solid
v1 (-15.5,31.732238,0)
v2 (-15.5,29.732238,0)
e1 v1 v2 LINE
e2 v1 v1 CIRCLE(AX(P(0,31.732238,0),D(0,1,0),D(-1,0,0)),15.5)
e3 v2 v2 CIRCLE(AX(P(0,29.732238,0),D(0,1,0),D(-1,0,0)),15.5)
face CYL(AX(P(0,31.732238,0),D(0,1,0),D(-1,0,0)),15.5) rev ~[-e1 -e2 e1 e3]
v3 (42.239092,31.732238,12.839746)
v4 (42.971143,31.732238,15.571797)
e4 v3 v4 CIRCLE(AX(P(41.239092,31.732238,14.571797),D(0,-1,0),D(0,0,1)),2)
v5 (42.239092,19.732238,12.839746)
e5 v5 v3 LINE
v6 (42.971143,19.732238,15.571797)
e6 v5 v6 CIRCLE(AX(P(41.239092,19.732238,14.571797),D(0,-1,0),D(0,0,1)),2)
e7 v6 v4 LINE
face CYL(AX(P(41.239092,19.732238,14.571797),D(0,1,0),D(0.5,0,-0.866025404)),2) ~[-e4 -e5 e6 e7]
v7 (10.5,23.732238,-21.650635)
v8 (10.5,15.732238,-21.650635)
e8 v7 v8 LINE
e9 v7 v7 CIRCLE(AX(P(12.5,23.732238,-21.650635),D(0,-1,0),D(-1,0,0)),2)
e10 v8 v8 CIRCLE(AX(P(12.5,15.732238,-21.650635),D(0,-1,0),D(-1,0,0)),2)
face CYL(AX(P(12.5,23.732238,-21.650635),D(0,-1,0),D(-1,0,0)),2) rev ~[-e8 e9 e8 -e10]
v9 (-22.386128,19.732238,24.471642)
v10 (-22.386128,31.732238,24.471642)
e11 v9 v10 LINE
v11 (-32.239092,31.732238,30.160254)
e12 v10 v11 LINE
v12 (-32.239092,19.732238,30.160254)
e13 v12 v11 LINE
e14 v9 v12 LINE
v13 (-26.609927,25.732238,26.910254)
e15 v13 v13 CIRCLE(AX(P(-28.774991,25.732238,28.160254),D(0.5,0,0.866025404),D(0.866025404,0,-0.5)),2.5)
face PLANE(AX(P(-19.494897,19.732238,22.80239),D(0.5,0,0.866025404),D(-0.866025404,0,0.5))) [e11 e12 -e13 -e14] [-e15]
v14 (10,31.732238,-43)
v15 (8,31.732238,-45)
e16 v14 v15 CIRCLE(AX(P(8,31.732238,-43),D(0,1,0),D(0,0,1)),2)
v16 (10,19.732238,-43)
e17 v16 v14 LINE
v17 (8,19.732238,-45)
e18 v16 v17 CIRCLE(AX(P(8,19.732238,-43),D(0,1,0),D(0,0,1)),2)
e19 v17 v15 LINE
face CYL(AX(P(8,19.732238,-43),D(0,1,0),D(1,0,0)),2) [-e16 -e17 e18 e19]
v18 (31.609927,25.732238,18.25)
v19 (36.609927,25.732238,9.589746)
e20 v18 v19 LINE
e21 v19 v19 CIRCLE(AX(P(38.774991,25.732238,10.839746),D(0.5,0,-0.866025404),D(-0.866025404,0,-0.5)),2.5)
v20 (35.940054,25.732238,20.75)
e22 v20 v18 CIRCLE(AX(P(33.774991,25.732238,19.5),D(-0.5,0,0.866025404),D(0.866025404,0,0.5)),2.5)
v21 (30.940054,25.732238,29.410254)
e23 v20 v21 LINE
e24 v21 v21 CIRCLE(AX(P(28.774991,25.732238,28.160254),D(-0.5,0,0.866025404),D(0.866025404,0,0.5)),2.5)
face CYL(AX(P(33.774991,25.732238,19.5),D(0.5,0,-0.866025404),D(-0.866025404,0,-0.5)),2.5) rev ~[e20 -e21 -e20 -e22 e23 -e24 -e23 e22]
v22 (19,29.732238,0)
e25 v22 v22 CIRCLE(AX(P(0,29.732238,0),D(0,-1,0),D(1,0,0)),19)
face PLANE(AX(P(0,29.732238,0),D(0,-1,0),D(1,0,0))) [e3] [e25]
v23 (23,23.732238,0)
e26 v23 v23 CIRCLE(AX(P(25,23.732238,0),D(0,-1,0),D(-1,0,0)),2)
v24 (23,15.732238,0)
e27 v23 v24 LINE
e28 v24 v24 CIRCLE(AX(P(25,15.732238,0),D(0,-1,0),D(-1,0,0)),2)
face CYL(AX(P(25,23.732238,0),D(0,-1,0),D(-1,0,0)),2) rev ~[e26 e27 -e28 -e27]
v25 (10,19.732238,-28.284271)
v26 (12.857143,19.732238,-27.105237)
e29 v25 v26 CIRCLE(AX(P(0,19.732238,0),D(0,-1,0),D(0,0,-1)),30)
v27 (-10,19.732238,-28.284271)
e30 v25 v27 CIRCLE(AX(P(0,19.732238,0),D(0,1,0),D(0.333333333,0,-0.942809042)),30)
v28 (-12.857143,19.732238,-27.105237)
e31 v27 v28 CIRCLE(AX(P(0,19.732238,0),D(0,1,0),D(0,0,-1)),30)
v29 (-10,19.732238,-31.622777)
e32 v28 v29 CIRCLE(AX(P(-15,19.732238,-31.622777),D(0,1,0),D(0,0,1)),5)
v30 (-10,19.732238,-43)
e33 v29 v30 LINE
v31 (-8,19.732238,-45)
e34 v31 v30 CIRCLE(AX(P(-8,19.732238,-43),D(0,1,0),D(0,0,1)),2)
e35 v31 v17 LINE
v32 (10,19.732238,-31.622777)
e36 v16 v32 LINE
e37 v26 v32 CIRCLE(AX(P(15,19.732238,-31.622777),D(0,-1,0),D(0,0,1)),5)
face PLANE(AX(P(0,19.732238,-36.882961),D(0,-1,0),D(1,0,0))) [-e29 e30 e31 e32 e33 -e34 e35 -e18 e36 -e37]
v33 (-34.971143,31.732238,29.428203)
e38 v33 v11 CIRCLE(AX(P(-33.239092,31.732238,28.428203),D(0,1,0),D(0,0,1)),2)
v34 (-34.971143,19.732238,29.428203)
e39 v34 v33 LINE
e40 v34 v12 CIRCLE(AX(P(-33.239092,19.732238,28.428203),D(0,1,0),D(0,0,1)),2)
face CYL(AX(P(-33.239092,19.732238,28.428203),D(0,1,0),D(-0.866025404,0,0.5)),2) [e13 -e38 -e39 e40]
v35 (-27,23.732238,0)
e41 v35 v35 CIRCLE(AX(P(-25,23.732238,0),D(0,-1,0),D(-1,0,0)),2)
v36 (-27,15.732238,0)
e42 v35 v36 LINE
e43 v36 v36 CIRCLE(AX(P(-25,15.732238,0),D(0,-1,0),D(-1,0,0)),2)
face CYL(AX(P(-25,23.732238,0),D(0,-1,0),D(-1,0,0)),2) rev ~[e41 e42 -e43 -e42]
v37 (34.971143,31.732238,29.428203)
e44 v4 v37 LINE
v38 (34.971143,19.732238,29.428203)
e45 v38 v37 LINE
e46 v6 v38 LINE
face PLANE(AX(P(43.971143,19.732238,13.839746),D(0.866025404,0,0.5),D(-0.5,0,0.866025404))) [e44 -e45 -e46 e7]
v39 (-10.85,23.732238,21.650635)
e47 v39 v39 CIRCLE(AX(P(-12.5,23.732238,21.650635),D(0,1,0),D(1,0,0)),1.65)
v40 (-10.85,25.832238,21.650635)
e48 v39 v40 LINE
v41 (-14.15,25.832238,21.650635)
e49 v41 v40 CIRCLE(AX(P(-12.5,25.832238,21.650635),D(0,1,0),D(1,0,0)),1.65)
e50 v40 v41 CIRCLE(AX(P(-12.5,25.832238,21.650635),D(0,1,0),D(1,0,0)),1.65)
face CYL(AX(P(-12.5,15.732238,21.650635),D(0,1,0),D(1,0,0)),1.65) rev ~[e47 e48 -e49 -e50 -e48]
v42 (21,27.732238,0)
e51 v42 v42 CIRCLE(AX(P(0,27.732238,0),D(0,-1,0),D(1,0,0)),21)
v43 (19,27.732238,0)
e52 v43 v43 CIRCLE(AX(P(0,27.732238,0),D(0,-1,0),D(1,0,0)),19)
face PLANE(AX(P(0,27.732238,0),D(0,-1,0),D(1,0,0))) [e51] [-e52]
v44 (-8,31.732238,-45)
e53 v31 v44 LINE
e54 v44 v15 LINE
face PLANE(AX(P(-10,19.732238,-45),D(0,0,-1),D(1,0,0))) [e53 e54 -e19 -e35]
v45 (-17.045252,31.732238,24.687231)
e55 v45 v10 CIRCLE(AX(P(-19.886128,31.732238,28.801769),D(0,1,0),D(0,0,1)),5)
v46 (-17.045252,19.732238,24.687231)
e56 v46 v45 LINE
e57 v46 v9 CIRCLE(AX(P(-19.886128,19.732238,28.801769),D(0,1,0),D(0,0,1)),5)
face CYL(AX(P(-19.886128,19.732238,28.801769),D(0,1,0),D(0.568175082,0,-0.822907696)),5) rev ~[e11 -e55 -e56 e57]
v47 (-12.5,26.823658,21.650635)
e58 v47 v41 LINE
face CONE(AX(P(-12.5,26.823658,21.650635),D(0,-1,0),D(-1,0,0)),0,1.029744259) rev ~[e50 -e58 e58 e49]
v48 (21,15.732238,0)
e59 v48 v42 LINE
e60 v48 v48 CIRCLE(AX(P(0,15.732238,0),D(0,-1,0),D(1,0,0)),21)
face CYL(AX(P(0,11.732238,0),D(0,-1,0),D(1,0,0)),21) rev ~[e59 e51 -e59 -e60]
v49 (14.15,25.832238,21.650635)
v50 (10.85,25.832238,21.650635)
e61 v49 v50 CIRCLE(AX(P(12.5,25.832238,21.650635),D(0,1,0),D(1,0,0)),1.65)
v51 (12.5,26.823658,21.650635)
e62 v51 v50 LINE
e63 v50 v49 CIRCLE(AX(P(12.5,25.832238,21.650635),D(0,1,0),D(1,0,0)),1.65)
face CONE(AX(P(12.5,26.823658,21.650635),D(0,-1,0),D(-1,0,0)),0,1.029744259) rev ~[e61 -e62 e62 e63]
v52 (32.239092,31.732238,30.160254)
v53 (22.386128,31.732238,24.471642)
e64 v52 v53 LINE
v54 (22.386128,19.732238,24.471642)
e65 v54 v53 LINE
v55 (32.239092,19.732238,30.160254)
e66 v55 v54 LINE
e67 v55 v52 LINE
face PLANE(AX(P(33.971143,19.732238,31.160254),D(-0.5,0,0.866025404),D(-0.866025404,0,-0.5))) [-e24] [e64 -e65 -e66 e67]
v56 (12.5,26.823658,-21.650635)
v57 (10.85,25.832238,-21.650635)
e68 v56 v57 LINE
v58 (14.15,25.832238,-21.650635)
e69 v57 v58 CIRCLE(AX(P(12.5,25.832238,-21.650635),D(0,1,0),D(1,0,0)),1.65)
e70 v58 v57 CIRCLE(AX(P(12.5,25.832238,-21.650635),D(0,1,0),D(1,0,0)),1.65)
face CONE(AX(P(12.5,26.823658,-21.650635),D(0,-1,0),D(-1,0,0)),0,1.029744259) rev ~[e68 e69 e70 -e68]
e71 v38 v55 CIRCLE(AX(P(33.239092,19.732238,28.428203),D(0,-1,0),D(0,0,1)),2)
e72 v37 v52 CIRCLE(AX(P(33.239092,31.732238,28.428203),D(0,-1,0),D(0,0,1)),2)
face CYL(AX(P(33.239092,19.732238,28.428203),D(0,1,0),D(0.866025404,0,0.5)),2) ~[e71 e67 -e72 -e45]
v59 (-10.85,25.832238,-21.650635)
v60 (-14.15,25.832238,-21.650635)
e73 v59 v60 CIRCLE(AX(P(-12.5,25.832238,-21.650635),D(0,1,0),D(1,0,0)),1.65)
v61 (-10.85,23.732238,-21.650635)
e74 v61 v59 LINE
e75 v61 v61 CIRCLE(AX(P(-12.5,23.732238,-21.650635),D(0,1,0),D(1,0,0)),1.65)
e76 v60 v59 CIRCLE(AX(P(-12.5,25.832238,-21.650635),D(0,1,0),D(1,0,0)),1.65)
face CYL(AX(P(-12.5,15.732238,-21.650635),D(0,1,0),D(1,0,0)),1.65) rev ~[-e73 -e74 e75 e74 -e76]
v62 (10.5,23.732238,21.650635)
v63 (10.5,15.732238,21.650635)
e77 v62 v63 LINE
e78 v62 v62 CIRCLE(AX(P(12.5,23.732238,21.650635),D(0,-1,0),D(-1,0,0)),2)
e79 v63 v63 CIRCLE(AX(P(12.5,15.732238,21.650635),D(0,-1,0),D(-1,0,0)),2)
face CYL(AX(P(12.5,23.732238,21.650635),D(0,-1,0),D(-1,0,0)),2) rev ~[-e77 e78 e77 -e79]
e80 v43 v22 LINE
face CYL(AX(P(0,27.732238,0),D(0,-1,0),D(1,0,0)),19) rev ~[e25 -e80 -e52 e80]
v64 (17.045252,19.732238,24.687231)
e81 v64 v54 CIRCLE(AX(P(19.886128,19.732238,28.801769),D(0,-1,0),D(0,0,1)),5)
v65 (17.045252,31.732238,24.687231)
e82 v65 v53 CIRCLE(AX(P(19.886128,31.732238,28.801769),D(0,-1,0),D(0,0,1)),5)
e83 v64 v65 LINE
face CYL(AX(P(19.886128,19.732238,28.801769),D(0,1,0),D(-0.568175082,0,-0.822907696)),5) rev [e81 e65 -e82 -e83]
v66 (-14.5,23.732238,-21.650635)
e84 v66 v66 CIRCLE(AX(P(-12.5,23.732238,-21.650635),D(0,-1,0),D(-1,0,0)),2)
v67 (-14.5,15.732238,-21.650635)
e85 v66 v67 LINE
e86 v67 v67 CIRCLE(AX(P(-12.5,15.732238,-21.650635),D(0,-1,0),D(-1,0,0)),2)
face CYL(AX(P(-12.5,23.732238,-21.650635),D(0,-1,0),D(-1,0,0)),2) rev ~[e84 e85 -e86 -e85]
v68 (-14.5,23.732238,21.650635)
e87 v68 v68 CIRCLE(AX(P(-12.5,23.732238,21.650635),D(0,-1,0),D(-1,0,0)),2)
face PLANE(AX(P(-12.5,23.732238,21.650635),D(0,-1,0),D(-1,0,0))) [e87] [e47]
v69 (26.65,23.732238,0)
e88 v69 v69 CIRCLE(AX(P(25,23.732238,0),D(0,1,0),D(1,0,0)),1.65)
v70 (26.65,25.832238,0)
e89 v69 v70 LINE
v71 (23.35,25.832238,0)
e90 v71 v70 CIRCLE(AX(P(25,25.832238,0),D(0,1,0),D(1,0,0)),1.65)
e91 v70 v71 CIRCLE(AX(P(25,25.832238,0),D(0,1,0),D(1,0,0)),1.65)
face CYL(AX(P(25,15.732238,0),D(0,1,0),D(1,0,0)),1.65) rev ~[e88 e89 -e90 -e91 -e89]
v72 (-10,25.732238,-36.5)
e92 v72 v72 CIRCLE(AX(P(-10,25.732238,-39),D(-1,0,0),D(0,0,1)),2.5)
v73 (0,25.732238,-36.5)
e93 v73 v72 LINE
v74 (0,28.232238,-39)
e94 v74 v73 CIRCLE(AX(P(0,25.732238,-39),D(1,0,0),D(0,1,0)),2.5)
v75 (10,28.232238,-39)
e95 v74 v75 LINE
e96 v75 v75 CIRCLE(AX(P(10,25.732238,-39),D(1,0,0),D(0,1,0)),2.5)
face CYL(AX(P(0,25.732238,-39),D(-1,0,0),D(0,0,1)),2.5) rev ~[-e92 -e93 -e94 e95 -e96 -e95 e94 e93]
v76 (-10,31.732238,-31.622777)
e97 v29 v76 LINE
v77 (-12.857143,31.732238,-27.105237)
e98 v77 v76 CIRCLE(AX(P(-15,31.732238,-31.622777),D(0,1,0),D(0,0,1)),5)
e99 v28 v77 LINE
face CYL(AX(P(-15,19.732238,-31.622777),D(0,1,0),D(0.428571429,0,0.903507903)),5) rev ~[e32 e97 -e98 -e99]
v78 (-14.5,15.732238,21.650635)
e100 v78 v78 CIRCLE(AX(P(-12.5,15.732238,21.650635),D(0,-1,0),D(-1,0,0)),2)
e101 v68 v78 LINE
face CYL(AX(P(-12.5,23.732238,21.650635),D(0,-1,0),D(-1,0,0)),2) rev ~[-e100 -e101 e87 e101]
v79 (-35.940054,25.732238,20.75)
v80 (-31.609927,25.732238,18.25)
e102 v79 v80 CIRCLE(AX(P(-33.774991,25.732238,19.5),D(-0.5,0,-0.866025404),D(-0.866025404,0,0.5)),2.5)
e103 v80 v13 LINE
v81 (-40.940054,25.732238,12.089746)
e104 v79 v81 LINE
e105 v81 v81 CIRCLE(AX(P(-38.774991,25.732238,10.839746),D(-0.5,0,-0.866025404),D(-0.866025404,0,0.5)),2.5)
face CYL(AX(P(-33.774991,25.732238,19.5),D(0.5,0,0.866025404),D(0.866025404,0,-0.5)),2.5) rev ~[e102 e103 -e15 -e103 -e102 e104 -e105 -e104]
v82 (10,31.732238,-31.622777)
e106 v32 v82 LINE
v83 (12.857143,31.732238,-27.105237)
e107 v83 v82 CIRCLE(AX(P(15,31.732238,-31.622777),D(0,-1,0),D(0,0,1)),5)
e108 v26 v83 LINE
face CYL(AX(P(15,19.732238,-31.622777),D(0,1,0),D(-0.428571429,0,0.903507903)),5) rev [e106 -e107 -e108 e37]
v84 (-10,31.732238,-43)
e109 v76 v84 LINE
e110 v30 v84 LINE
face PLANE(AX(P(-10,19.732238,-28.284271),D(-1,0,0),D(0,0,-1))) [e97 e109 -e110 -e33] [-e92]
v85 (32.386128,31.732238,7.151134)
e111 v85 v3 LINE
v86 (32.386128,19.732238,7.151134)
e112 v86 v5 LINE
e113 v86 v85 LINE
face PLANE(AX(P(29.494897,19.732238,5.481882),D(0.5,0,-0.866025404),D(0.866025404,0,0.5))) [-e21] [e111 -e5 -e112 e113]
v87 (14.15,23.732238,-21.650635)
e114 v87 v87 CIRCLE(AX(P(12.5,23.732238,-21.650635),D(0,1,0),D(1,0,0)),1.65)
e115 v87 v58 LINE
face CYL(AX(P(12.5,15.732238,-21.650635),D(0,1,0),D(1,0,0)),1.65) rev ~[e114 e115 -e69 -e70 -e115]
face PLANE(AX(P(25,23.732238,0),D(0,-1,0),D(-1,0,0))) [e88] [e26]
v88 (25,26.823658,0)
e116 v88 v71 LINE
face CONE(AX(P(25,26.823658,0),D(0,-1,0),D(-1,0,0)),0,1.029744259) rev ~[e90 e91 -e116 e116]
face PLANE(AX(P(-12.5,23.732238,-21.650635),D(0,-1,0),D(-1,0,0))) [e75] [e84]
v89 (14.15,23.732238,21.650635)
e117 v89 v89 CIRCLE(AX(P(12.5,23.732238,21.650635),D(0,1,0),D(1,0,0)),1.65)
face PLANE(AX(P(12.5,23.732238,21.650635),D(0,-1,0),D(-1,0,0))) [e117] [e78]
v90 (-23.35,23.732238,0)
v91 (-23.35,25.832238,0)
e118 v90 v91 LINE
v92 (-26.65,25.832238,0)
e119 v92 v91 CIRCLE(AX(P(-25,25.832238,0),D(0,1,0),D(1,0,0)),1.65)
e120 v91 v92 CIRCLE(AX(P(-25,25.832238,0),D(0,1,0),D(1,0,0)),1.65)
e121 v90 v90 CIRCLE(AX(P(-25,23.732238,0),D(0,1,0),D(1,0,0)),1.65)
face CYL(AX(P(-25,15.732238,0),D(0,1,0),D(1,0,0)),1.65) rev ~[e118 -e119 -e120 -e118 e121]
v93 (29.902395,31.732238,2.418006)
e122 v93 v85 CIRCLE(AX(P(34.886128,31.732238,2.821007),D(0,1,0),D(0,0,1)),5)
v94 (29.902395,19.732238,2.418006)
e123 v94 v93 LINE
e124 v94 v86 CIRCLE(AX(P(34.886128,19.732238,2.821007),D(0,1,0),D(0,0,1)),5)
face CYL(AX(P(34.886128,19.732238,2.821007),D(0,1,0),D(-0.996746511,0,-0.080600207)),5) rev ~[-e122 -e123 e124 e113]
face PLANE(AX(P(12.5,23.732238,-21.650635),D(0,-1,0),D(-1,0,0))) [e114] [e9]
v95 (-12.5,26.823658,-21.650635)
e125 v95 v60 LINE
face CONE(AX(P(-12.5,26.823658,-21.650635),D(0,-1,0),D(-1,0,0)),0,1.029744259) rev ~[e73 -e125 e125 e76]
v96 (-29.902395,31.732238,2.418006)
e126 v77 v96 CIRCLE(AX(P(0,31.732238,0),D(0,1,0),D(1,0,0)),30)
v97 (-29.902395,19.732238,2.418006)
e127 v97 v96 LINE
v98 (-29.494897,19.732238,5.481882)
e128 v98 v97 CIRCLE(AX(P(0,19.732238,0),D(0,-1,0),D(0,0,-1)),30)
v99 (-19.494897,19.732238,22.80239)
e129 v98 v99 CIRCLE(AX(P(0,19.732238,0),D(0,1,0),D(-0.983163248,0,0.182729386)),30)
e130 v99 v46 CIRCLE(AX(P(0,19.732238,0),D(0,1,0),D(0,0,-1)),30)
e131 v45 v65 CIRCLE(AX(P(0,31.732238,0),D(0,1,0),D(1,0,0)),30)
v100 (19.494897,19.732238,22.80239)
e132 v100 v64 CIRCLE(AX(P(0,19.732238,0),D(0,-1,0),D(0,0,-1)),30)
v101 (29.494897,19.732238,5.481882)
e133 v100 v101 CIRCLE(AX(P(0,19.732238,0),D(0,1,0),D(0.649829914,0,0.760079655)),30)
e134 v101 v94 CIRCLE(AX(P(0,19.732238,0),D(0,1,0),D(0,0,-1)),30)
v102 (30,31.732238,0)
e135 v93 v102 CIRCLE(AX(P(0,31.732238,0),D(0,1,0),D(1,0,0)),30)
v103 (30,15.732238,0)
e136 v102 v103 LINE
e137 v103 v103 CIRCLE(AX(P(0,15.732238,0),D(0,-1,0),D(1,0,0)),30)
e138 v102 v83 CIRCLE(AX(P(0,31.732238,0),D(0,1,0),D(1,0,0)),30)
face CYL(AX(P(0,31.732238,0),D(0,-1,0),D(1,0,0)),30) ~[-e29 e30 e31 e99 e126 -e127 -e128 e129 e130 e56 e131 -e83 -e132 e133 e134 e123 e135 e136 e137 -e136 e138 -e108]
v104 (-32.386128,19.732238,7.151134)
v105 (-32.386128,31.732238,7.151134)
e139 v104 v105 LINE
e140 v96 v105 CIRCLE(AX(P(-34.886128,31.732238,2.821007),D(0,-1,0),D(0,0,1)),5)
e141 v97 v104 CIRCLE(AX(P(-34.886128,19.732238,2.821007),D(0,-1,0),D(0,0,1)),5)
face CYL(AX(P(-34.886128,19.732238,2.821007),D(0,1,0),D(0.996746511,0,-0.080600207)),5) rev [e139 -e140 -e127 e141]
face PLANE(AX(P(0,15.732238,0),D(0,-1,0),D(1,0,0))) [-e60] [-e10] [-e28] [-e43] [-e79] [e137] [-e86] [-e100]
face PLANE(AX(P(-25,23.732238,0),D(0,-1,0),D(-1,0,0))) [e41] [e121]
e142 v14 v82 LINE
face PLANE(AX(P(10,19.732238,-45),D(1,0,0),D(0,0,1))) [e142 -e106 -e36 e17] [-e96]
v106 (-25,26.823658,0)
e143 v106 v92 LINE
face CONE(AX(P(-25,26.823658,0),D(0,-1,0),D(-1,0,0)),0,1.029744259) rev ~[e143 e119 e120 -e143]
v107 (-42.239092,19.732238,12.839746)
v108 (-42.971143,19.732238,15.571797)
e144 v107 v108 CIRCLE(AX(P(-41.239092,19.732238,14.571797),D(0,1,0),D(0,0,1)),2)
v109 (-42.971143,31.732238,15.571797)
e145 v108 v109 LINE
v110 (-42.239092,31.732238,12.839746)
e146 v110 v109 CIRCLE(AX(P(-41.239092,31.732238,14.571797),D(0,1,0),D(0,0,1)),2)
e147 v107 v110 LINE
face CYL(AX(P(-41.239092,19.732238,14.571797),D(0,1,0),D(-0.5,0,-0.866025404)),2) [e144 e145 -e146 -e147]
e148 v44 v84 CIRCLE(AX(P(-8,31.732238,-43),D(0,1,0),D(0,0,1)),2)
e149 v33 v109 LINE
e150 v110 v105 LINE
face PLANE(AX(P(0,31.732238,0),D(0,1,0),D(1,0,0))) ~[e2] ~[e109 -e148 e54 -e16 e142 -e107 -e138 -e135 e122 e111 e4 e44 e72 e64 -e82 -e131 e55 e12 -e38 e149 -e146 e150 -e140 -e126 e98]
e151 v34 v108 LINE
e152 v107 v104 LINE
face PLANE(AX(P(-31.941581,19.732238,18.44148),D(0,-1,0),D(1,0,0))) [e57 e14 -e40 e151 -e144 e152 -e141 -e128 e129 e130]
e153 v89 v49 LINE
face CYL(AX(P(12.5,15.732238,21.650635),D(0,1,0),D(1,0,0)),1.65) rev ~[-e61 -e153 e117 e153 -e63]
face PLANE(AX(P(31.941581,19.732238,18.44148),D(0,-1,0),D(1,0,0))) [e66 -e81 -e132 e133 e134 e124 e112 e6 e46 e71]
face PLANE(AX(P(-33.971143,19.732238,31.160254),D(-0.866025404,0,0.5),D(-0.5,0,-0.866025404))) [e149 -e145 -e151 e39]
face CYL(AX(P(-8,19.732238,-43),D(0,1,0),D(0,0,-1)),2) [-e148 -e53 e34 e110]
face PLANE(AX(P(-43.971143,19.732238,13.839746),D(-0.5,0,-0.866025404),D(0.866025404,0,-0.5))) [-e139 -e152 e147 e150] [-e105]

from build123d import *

# Parameters (mm, degrees)
EXTRUDE_START                = -12
EXTRUDE_1_DEPTH              = 12
HOLE_WIZARD_M5_1_D           = 4.2
HOLE_WIZARD_M5_1_DEPTH       = 12.4
HOLE_WIZARD_M5_1_CBORE_D     = 5
HOLE_WIZARD_M5_1_CBORE_DEPTH = 10
HOLE_WIZARD_M5_1_TIP         = 1.2618073
HOLE_WIZARD_M5_2_D           = 4.2
HOLE_WIZARD_M5_2_DEPTH       = 12.4
HOLE_WIZARD_M5_2_CBORE_D     = 5
HOLE_WIZARD_M5_2_CBORE_DEPTH = 10
HOLE_WIZARD_M5_2_TIP         = 1.2618073
HOLE_WIZARD_M5_3_D           = 4.2
HOLE_WIZARD_M5_3_DEPTH       = 12.4
HOLE_WIZARD_M5_3_CBORE_D     = 5
HOLE_WIZARD_M5_3_CBORE_DEPTH = 10
HOLE_WIZARD_M5_3_TIP         = 1.2618073
HOLE_WIZARD_M5_4_D           = 4.2
HOLE_WIZARD_M5_4_DEPTH       = 12.4
HOLE_WIZARD_M5_4_CBORE_D     = 5
HOLE_WIZARD_M5_4_CBORE_DEPTH = 10
HOLE_WIZARD_M5_4_TIP         = 1.2618073
HOLE_WIZARD_M5_5_D           = 4.2
HOLE_WIZARD_M5_5_DEPTH       = 12.4
HOLE_WIZARD_M5_5_CBORE_D     = 5
HOLE_WIZARD_M5_5_CBORE_DEPTH = 10
HOLE_WIZARD_M5_5_TIP         = 1.2618073
HOLE_WIZARD_M5_6_D           = 4.2
HOLE_WIZARD_M5_6_DEPTH       = 12.4
HOLE_WIZARD_M5_6_CBORE_D     = 5
HOLE_WIZARD_M5_6_CBORE_DEPTH = 10
HOLE_WIZARD_M5_6_TIP         = 1.2618073
SKETCH_12_R                  = 15.5
CUT_EXTRUDE_1_DEPTH          = 72.996259845
CHAMFER_3_SIZE               = 2
SKETCH_19_R                  = 39.897088004
CUT_EXTRUDE_2_DEPTH          = 15
SKETCH_20_R                  = 21
CUT_EXTRUDE_3_DEPTH          = 16
SKETCH_22_R                  = 19
CUT_EXTRUDE_5_DEPTH          = 2
SKETCH_23_R                  = 30
CUT_EXTRUDE_6_DEPTH          = 4
HOLE_WIZARD_M4_1_D           = 3.3
HOLE_WIZARD_M4_1_DEPTH       = 10.1
HOLE_WIZARD_M4_1_CBORE_D     = 4
HOLE_WIZARD_M4_1_CBORE_DEPTH = 8
HOLE_WIZARD_M4_1_TIP         = 0.991420021
FILLET_1_R                   = 5
FILLET_2_R                   = 2


with BuildPart() as part:
    # 草图1 → 旋转1 (revolve)
    with BuildSketch(Plane.XY, mode=Mode.PRIVATE) as revolve_1_sk:
        Polygon((0, 31.73223769), (-30, 31.73223769), (-30, 11.73223769), (-30, -3.26776231), (-15, -3.26776231), (0, -3.26776231), align=None)
    revolve(revolve_1_sk.sketch.rotate(Axis((0, -1000, 0), (0, 1, 0)), 180), axis=Axis((0, -1000, 0), (0, 1, 0)))

    # 草图2 → 拉伸1 (add)
    with BuildSketch(Plane(origin=(0, 31.73223769, 0), x_dir=(-1, 0, 0), z_dir=(0, 1, 0)).offset(EXTRUDE_START)):
        with BuildLine():
            Line((-33.97114317, 31.160254038), (-19.494897428, 22.802389662))
            ThreePointArc((-19.494897428, 22.802389662), (-25.980762114, 15), (-29.494897428, 5.481881586))
            Line((-29.494897428, 5.481881586), (-43.97114317, 13.839745962))
            Line((-43.97114317, 13.839745962), (-33.97114317, 31.160254038))
        make_face()
        with BuildLine():
            Line((33.97114317, 31.160254038), (43.97114317, 13.839745962))
            Line((43.97114317, 13.839745962), (29.494897428, 5.481881586))
            ThreePointArc((29.494897428, 5.481881586), (25.980762114, 15), (19.494897428, 22.802389662))
            Line((19.494897428, 22.802389662), (33.97114317, 31.160254038))
        make_face()
        with BuildLine():
            Line((10, -28.284271247), (10, -45))
            Line((10, -45), (-10, -45))
            Line((-10, -45), (-10, -28.284271247))
            ThreePointArc((-10, -28.284271247), (0, -30), (10, -28.284271247))
        make_face()
    extrude(amount=EXTRUDE_1_DEPTH)

    # M5 螺纹孔1
    with Locations(Plane(origin=(10, 25.73223769, -39), x_dir=(0, 1, 0), z_dir=(1, 0, 0))):
        with Locations((0, 0)):
            CounterBoreHole(HOLE_WIZARD_M5_1_D / 2, HOLE_WIZARD_M5_1_CBORE_D / 2, HOLE_WIZARD_M5_1_CBORE_DEPTH, depth=HOLE_WIZARD_M5_1_DEPTH)
            with Locations((0, 0, -(HOLE_WIZARD_M5_1_DEPTH + HOLE_WIZARD_M5_1_TIP / 2))):  # 118° drill point
                Cone(0, HOLE_WIZARD_M5_1_D / 2, HOLE_WIZARD_M5_1_TIP, mode=Mode.SUBTRACT)

    # M5 螺纹孔2
    with Locations(Plane.ZY.offset(10)):
        with Locations((-39, 25.73223769)):
            CounterBoreHole(HOLE_WIZARD_M5_2_D / 2, HOLE_WIZARD_M5_2_CBORE_D / 2, HOLE_WIZARD_M5_2_CBORE_DEPTH, depth=HOLE_WIZARD_M5_2_DEPTH)
            with Locations((0, 0, -(HOLE_WIZARD_M5_2_DEPTH + HOLE_WIZARD_M5_2_TIP / 2))):  # 118° drill point
                Cone(0, HOLE_WIZARD_M5_2_D / 2, HOLE_WIZARD_M5_2_TIP, mode=Mode.SUBTRACT)

    # M5 螺纹孔3
    with Locations(Plane(origin=(28.774990748, 25.73223769, 28.160254038), x_dir=(0.866025403784, 0, 0.5), z_dir=(-0.5, 0, 0.866025403784))):
        with Locations((0, 0)):
            CounterBoreHole(HOLE_WIZARD_M5_3_D / 2, HOLE_WIZARD_M5_3_CBORE_D / 2, HOLE_WIZARD_M5_3_CBORE_DEPTH, depth=HOLE_WIZARD_M5_3_DEPTH)
            with Locations((0, 0, -(HOLE_WIZARD_M5_3_DEPTH + HOLE_WIZARD_M5_3_TIP / 2))):  # 118° drill point
                Cone(0, HOLE_WIZARD_M5_3_D / 2, HOLE_WIZARD_M5_3_TIP, mode=Mode.SUBTRACT)

    # M5 螺纹孔4
    with Locations(Plane(origin=(38.774990748, 25.73223769, 10.839745962), x_dir=(-0.866025403784, 0, -0.5), z_dir=(0.5, 0, -0.866025403784))):
        with Locations((0, 0)):
            CounterBoreHole(HOLE_WIZARD_M5_4_D / 2, HOLE_WIZARD_M5_4_CBORE_D / 2, HOLE_WIZARD_M5_4_CBORE_DEPTH, depth=HOLE_WIZARD_M5_4_DEPTH)
            with Locations((0, 0, -(HOLE_WIZARD_M5_4_DEPTH + HOLE_WIZARD_M5_4_TIP / 2))):  # 118° drill point
                Cone(0, HOLE_WIZARD_M5_4_D / 2, HOLE_WIZARD_M5_4_TIP, mode=Mode.SUBTRACT)

    # M5 螺纹孔5
    with Locations(Plane(origin=(-5, 0, -8.660254038), x_dir=(-0.8660254037844396, 1.0079044292037923e-15, 0.4999999999999983), z_dir=(-0.4999999999999983, -1.7457416805546845e-15, -0.8660254037844396))):
        with Locations((39, 25.73223769)):
            CounterBoreHole(HOLE_WIZARD_M5_5_D / 2, HOLE_WIZARD_M5_5_CBORE_D / 2, HOLE_WIZARD_M5_5_CBORE_DEPTH, depth=HOLE_WIZARD_M5_5_DEPTH)
            with Locations((0, 0, -(HOLE_WIZARD_M5_5_DEPTH + HOLE_WIZARD_M5_5_TIP / 2))):  # 118° drill point
                Cone(0, HOLE_WIZARD_M5_5_D / 2, HOLE_WIZARD_M5_5_TIP, mode=Mode.SUBTRACT)

    # M5 螺纹孔6
    with Locations(Plane(origin=(-28.774990748, 25.73223769, 28.160254038), x_dir=(0.866025403784, 0, -0.5), z_dir=(0.5, 0, 0.866025403784))):
        with Locations((0, 0)):
            CounterBoreHole(HOLE_WIZARD_M5_6_D / 2, HOLE_WIZARD_M5_6_CBORE_D / 2, HOLE_WIZARD_M5_6_CBORE_DEPTH, depth=HOLE_WIZARD_M5_6_DEPTH)
            with Locations((0, 0, -(HOLE_WIZARD_M5_6_DEPTH + HOLE_WIZARD_M5_6_TIP / 2))):  # 118° drill point
                Cone(0, HOLE_WIZARD_M5_6_D / 2, HOLE_WIZARD_M5_6_TIP, mode=Mode.SUBTRACT)

    # 草图12 → 切除-拉伸1 (cut, through all)
    with BuildSketch(Plane(origin=(0, 31.73223769, 0), x_dir=(-1, 0, 0), z_dir=(0, 1, 0))):
        Circle(SKETCH_12_R)
    extrude(amount=-CUT_EXTRUDE_1_DEPTH, mode=Mode.SUBTRACT)

    # 倒角3
    chamfer_3_edges = [part.edges().sort_by_distance(p)[0] for p in [
        (-30, -3.26776231, 0),
    ]]
    chamfer(chamfer_3_edges, length=CHAMFER_3_SIZE)

    # 草图19 → 切除-拉伸2 (cut)
    with BuildSketch(Plane.XZ.offset(3.26776231)):
        Circle(SKETCH_19_R)
    extrude(amount=-CUT_EXTRUDE_2_DEPTH, mode=Mode.SUBTRACT)

    # 草图20 → 切除-拉伸3 (cut)
    with BuildSketch(Plane.XZ.offset(-11.73223769)):
        Circle(SKETCH_20_R)
    extrude(amount=-CUT_EXTRUDE_3_DEPTH, mode=Mode.SUBTRACT)

    # 草图22 → 切除-拉伸5 (cut)
    with BuildSketch(Plane.XZ.offset(-27.73223769)):
        Circle(SKETCH_22_R)
    extrude(amount=-CUT_EXTRUDE_5_DEPTH, mode=Mode.SUBTRACT)

    # 草图23 → 切除-拉伸6 (cut)
    with BuildSketch(Plane.XZ.offset(-11.73223769)):
        Circle(SKETCH_23_R)
    extrude(amount=-CUT_EXTRUDE_6_DEPTH, mode=Mode.SUBTRACT)

    # M4 螺纹孔1
    with Locations(Plane(origin=(-12.5, 15.73223769, 21.650635095), x_dir=(-1, 0, 0), z_dir=(0, -1, 0))):
        with Locations((0, 0), (-25, 0), (-37.5, 21.650635095), (-25, 43.30127019), (0, 43.30127019), (12.5, 21.650635095)):
            CounterBoreHole(HOLE_WIZARD_M4_1_D / 2, HOLE_WIZARD_M4_1_CBORE_D / 2, HOLE_WIZARD_M4_1_CBORE_DEPTH, depth=HOLE_WIZARD_M4_1_DEPTH)
            with Locations((0, 0, -(HOLE_WIZARD_M4_1_DEPTH + HOLE_WIZARD_M4_1_TIP / 2))):  # 118° drill point
                Cone(0, HOLE_WIZARD_M4_1_D / 2, HOLE_WIZARD_M4_1_TIP, mode=Mode.SUBTRACT)

    # 圆角1
    fillet_1_edges = [part.edges().sort_by_distance(p)[0] for p in [
        (19.494897428, 25.73223769, 22.802389662),
        (29.494897428, 25.73223769, 5.481881586),
        (10, 25.73223769, -28.284271247),
        (-10, 25.73223769, -28.284271247),
        (-19.494897428, 25.73223769, 22.802389662),
        (-29.494897428, 25.73223769, 5.481881586),
    ]]
    fillet(fillet_1_edges, radius=FILLET_1_R)

    # 圆角2
    fillet_2_edges = [part.edges().sort_by_distance(p)[0] for p in [
        (43.97114317, 25.73223769, 13.839745962),
        (33.97114317, 25.73223769, 31.160254038),
        (-10, 25.73223769, -45),
        (10, 25.73223769, -45),
        (-33.97114317, 25.73223769, 31.160254038),
        (-43.97114317, 25.73223769, 13.839745962),
    ]]
    fillet(fillet_2_edges, radius=FILLET_2_R)


solid = part.part
